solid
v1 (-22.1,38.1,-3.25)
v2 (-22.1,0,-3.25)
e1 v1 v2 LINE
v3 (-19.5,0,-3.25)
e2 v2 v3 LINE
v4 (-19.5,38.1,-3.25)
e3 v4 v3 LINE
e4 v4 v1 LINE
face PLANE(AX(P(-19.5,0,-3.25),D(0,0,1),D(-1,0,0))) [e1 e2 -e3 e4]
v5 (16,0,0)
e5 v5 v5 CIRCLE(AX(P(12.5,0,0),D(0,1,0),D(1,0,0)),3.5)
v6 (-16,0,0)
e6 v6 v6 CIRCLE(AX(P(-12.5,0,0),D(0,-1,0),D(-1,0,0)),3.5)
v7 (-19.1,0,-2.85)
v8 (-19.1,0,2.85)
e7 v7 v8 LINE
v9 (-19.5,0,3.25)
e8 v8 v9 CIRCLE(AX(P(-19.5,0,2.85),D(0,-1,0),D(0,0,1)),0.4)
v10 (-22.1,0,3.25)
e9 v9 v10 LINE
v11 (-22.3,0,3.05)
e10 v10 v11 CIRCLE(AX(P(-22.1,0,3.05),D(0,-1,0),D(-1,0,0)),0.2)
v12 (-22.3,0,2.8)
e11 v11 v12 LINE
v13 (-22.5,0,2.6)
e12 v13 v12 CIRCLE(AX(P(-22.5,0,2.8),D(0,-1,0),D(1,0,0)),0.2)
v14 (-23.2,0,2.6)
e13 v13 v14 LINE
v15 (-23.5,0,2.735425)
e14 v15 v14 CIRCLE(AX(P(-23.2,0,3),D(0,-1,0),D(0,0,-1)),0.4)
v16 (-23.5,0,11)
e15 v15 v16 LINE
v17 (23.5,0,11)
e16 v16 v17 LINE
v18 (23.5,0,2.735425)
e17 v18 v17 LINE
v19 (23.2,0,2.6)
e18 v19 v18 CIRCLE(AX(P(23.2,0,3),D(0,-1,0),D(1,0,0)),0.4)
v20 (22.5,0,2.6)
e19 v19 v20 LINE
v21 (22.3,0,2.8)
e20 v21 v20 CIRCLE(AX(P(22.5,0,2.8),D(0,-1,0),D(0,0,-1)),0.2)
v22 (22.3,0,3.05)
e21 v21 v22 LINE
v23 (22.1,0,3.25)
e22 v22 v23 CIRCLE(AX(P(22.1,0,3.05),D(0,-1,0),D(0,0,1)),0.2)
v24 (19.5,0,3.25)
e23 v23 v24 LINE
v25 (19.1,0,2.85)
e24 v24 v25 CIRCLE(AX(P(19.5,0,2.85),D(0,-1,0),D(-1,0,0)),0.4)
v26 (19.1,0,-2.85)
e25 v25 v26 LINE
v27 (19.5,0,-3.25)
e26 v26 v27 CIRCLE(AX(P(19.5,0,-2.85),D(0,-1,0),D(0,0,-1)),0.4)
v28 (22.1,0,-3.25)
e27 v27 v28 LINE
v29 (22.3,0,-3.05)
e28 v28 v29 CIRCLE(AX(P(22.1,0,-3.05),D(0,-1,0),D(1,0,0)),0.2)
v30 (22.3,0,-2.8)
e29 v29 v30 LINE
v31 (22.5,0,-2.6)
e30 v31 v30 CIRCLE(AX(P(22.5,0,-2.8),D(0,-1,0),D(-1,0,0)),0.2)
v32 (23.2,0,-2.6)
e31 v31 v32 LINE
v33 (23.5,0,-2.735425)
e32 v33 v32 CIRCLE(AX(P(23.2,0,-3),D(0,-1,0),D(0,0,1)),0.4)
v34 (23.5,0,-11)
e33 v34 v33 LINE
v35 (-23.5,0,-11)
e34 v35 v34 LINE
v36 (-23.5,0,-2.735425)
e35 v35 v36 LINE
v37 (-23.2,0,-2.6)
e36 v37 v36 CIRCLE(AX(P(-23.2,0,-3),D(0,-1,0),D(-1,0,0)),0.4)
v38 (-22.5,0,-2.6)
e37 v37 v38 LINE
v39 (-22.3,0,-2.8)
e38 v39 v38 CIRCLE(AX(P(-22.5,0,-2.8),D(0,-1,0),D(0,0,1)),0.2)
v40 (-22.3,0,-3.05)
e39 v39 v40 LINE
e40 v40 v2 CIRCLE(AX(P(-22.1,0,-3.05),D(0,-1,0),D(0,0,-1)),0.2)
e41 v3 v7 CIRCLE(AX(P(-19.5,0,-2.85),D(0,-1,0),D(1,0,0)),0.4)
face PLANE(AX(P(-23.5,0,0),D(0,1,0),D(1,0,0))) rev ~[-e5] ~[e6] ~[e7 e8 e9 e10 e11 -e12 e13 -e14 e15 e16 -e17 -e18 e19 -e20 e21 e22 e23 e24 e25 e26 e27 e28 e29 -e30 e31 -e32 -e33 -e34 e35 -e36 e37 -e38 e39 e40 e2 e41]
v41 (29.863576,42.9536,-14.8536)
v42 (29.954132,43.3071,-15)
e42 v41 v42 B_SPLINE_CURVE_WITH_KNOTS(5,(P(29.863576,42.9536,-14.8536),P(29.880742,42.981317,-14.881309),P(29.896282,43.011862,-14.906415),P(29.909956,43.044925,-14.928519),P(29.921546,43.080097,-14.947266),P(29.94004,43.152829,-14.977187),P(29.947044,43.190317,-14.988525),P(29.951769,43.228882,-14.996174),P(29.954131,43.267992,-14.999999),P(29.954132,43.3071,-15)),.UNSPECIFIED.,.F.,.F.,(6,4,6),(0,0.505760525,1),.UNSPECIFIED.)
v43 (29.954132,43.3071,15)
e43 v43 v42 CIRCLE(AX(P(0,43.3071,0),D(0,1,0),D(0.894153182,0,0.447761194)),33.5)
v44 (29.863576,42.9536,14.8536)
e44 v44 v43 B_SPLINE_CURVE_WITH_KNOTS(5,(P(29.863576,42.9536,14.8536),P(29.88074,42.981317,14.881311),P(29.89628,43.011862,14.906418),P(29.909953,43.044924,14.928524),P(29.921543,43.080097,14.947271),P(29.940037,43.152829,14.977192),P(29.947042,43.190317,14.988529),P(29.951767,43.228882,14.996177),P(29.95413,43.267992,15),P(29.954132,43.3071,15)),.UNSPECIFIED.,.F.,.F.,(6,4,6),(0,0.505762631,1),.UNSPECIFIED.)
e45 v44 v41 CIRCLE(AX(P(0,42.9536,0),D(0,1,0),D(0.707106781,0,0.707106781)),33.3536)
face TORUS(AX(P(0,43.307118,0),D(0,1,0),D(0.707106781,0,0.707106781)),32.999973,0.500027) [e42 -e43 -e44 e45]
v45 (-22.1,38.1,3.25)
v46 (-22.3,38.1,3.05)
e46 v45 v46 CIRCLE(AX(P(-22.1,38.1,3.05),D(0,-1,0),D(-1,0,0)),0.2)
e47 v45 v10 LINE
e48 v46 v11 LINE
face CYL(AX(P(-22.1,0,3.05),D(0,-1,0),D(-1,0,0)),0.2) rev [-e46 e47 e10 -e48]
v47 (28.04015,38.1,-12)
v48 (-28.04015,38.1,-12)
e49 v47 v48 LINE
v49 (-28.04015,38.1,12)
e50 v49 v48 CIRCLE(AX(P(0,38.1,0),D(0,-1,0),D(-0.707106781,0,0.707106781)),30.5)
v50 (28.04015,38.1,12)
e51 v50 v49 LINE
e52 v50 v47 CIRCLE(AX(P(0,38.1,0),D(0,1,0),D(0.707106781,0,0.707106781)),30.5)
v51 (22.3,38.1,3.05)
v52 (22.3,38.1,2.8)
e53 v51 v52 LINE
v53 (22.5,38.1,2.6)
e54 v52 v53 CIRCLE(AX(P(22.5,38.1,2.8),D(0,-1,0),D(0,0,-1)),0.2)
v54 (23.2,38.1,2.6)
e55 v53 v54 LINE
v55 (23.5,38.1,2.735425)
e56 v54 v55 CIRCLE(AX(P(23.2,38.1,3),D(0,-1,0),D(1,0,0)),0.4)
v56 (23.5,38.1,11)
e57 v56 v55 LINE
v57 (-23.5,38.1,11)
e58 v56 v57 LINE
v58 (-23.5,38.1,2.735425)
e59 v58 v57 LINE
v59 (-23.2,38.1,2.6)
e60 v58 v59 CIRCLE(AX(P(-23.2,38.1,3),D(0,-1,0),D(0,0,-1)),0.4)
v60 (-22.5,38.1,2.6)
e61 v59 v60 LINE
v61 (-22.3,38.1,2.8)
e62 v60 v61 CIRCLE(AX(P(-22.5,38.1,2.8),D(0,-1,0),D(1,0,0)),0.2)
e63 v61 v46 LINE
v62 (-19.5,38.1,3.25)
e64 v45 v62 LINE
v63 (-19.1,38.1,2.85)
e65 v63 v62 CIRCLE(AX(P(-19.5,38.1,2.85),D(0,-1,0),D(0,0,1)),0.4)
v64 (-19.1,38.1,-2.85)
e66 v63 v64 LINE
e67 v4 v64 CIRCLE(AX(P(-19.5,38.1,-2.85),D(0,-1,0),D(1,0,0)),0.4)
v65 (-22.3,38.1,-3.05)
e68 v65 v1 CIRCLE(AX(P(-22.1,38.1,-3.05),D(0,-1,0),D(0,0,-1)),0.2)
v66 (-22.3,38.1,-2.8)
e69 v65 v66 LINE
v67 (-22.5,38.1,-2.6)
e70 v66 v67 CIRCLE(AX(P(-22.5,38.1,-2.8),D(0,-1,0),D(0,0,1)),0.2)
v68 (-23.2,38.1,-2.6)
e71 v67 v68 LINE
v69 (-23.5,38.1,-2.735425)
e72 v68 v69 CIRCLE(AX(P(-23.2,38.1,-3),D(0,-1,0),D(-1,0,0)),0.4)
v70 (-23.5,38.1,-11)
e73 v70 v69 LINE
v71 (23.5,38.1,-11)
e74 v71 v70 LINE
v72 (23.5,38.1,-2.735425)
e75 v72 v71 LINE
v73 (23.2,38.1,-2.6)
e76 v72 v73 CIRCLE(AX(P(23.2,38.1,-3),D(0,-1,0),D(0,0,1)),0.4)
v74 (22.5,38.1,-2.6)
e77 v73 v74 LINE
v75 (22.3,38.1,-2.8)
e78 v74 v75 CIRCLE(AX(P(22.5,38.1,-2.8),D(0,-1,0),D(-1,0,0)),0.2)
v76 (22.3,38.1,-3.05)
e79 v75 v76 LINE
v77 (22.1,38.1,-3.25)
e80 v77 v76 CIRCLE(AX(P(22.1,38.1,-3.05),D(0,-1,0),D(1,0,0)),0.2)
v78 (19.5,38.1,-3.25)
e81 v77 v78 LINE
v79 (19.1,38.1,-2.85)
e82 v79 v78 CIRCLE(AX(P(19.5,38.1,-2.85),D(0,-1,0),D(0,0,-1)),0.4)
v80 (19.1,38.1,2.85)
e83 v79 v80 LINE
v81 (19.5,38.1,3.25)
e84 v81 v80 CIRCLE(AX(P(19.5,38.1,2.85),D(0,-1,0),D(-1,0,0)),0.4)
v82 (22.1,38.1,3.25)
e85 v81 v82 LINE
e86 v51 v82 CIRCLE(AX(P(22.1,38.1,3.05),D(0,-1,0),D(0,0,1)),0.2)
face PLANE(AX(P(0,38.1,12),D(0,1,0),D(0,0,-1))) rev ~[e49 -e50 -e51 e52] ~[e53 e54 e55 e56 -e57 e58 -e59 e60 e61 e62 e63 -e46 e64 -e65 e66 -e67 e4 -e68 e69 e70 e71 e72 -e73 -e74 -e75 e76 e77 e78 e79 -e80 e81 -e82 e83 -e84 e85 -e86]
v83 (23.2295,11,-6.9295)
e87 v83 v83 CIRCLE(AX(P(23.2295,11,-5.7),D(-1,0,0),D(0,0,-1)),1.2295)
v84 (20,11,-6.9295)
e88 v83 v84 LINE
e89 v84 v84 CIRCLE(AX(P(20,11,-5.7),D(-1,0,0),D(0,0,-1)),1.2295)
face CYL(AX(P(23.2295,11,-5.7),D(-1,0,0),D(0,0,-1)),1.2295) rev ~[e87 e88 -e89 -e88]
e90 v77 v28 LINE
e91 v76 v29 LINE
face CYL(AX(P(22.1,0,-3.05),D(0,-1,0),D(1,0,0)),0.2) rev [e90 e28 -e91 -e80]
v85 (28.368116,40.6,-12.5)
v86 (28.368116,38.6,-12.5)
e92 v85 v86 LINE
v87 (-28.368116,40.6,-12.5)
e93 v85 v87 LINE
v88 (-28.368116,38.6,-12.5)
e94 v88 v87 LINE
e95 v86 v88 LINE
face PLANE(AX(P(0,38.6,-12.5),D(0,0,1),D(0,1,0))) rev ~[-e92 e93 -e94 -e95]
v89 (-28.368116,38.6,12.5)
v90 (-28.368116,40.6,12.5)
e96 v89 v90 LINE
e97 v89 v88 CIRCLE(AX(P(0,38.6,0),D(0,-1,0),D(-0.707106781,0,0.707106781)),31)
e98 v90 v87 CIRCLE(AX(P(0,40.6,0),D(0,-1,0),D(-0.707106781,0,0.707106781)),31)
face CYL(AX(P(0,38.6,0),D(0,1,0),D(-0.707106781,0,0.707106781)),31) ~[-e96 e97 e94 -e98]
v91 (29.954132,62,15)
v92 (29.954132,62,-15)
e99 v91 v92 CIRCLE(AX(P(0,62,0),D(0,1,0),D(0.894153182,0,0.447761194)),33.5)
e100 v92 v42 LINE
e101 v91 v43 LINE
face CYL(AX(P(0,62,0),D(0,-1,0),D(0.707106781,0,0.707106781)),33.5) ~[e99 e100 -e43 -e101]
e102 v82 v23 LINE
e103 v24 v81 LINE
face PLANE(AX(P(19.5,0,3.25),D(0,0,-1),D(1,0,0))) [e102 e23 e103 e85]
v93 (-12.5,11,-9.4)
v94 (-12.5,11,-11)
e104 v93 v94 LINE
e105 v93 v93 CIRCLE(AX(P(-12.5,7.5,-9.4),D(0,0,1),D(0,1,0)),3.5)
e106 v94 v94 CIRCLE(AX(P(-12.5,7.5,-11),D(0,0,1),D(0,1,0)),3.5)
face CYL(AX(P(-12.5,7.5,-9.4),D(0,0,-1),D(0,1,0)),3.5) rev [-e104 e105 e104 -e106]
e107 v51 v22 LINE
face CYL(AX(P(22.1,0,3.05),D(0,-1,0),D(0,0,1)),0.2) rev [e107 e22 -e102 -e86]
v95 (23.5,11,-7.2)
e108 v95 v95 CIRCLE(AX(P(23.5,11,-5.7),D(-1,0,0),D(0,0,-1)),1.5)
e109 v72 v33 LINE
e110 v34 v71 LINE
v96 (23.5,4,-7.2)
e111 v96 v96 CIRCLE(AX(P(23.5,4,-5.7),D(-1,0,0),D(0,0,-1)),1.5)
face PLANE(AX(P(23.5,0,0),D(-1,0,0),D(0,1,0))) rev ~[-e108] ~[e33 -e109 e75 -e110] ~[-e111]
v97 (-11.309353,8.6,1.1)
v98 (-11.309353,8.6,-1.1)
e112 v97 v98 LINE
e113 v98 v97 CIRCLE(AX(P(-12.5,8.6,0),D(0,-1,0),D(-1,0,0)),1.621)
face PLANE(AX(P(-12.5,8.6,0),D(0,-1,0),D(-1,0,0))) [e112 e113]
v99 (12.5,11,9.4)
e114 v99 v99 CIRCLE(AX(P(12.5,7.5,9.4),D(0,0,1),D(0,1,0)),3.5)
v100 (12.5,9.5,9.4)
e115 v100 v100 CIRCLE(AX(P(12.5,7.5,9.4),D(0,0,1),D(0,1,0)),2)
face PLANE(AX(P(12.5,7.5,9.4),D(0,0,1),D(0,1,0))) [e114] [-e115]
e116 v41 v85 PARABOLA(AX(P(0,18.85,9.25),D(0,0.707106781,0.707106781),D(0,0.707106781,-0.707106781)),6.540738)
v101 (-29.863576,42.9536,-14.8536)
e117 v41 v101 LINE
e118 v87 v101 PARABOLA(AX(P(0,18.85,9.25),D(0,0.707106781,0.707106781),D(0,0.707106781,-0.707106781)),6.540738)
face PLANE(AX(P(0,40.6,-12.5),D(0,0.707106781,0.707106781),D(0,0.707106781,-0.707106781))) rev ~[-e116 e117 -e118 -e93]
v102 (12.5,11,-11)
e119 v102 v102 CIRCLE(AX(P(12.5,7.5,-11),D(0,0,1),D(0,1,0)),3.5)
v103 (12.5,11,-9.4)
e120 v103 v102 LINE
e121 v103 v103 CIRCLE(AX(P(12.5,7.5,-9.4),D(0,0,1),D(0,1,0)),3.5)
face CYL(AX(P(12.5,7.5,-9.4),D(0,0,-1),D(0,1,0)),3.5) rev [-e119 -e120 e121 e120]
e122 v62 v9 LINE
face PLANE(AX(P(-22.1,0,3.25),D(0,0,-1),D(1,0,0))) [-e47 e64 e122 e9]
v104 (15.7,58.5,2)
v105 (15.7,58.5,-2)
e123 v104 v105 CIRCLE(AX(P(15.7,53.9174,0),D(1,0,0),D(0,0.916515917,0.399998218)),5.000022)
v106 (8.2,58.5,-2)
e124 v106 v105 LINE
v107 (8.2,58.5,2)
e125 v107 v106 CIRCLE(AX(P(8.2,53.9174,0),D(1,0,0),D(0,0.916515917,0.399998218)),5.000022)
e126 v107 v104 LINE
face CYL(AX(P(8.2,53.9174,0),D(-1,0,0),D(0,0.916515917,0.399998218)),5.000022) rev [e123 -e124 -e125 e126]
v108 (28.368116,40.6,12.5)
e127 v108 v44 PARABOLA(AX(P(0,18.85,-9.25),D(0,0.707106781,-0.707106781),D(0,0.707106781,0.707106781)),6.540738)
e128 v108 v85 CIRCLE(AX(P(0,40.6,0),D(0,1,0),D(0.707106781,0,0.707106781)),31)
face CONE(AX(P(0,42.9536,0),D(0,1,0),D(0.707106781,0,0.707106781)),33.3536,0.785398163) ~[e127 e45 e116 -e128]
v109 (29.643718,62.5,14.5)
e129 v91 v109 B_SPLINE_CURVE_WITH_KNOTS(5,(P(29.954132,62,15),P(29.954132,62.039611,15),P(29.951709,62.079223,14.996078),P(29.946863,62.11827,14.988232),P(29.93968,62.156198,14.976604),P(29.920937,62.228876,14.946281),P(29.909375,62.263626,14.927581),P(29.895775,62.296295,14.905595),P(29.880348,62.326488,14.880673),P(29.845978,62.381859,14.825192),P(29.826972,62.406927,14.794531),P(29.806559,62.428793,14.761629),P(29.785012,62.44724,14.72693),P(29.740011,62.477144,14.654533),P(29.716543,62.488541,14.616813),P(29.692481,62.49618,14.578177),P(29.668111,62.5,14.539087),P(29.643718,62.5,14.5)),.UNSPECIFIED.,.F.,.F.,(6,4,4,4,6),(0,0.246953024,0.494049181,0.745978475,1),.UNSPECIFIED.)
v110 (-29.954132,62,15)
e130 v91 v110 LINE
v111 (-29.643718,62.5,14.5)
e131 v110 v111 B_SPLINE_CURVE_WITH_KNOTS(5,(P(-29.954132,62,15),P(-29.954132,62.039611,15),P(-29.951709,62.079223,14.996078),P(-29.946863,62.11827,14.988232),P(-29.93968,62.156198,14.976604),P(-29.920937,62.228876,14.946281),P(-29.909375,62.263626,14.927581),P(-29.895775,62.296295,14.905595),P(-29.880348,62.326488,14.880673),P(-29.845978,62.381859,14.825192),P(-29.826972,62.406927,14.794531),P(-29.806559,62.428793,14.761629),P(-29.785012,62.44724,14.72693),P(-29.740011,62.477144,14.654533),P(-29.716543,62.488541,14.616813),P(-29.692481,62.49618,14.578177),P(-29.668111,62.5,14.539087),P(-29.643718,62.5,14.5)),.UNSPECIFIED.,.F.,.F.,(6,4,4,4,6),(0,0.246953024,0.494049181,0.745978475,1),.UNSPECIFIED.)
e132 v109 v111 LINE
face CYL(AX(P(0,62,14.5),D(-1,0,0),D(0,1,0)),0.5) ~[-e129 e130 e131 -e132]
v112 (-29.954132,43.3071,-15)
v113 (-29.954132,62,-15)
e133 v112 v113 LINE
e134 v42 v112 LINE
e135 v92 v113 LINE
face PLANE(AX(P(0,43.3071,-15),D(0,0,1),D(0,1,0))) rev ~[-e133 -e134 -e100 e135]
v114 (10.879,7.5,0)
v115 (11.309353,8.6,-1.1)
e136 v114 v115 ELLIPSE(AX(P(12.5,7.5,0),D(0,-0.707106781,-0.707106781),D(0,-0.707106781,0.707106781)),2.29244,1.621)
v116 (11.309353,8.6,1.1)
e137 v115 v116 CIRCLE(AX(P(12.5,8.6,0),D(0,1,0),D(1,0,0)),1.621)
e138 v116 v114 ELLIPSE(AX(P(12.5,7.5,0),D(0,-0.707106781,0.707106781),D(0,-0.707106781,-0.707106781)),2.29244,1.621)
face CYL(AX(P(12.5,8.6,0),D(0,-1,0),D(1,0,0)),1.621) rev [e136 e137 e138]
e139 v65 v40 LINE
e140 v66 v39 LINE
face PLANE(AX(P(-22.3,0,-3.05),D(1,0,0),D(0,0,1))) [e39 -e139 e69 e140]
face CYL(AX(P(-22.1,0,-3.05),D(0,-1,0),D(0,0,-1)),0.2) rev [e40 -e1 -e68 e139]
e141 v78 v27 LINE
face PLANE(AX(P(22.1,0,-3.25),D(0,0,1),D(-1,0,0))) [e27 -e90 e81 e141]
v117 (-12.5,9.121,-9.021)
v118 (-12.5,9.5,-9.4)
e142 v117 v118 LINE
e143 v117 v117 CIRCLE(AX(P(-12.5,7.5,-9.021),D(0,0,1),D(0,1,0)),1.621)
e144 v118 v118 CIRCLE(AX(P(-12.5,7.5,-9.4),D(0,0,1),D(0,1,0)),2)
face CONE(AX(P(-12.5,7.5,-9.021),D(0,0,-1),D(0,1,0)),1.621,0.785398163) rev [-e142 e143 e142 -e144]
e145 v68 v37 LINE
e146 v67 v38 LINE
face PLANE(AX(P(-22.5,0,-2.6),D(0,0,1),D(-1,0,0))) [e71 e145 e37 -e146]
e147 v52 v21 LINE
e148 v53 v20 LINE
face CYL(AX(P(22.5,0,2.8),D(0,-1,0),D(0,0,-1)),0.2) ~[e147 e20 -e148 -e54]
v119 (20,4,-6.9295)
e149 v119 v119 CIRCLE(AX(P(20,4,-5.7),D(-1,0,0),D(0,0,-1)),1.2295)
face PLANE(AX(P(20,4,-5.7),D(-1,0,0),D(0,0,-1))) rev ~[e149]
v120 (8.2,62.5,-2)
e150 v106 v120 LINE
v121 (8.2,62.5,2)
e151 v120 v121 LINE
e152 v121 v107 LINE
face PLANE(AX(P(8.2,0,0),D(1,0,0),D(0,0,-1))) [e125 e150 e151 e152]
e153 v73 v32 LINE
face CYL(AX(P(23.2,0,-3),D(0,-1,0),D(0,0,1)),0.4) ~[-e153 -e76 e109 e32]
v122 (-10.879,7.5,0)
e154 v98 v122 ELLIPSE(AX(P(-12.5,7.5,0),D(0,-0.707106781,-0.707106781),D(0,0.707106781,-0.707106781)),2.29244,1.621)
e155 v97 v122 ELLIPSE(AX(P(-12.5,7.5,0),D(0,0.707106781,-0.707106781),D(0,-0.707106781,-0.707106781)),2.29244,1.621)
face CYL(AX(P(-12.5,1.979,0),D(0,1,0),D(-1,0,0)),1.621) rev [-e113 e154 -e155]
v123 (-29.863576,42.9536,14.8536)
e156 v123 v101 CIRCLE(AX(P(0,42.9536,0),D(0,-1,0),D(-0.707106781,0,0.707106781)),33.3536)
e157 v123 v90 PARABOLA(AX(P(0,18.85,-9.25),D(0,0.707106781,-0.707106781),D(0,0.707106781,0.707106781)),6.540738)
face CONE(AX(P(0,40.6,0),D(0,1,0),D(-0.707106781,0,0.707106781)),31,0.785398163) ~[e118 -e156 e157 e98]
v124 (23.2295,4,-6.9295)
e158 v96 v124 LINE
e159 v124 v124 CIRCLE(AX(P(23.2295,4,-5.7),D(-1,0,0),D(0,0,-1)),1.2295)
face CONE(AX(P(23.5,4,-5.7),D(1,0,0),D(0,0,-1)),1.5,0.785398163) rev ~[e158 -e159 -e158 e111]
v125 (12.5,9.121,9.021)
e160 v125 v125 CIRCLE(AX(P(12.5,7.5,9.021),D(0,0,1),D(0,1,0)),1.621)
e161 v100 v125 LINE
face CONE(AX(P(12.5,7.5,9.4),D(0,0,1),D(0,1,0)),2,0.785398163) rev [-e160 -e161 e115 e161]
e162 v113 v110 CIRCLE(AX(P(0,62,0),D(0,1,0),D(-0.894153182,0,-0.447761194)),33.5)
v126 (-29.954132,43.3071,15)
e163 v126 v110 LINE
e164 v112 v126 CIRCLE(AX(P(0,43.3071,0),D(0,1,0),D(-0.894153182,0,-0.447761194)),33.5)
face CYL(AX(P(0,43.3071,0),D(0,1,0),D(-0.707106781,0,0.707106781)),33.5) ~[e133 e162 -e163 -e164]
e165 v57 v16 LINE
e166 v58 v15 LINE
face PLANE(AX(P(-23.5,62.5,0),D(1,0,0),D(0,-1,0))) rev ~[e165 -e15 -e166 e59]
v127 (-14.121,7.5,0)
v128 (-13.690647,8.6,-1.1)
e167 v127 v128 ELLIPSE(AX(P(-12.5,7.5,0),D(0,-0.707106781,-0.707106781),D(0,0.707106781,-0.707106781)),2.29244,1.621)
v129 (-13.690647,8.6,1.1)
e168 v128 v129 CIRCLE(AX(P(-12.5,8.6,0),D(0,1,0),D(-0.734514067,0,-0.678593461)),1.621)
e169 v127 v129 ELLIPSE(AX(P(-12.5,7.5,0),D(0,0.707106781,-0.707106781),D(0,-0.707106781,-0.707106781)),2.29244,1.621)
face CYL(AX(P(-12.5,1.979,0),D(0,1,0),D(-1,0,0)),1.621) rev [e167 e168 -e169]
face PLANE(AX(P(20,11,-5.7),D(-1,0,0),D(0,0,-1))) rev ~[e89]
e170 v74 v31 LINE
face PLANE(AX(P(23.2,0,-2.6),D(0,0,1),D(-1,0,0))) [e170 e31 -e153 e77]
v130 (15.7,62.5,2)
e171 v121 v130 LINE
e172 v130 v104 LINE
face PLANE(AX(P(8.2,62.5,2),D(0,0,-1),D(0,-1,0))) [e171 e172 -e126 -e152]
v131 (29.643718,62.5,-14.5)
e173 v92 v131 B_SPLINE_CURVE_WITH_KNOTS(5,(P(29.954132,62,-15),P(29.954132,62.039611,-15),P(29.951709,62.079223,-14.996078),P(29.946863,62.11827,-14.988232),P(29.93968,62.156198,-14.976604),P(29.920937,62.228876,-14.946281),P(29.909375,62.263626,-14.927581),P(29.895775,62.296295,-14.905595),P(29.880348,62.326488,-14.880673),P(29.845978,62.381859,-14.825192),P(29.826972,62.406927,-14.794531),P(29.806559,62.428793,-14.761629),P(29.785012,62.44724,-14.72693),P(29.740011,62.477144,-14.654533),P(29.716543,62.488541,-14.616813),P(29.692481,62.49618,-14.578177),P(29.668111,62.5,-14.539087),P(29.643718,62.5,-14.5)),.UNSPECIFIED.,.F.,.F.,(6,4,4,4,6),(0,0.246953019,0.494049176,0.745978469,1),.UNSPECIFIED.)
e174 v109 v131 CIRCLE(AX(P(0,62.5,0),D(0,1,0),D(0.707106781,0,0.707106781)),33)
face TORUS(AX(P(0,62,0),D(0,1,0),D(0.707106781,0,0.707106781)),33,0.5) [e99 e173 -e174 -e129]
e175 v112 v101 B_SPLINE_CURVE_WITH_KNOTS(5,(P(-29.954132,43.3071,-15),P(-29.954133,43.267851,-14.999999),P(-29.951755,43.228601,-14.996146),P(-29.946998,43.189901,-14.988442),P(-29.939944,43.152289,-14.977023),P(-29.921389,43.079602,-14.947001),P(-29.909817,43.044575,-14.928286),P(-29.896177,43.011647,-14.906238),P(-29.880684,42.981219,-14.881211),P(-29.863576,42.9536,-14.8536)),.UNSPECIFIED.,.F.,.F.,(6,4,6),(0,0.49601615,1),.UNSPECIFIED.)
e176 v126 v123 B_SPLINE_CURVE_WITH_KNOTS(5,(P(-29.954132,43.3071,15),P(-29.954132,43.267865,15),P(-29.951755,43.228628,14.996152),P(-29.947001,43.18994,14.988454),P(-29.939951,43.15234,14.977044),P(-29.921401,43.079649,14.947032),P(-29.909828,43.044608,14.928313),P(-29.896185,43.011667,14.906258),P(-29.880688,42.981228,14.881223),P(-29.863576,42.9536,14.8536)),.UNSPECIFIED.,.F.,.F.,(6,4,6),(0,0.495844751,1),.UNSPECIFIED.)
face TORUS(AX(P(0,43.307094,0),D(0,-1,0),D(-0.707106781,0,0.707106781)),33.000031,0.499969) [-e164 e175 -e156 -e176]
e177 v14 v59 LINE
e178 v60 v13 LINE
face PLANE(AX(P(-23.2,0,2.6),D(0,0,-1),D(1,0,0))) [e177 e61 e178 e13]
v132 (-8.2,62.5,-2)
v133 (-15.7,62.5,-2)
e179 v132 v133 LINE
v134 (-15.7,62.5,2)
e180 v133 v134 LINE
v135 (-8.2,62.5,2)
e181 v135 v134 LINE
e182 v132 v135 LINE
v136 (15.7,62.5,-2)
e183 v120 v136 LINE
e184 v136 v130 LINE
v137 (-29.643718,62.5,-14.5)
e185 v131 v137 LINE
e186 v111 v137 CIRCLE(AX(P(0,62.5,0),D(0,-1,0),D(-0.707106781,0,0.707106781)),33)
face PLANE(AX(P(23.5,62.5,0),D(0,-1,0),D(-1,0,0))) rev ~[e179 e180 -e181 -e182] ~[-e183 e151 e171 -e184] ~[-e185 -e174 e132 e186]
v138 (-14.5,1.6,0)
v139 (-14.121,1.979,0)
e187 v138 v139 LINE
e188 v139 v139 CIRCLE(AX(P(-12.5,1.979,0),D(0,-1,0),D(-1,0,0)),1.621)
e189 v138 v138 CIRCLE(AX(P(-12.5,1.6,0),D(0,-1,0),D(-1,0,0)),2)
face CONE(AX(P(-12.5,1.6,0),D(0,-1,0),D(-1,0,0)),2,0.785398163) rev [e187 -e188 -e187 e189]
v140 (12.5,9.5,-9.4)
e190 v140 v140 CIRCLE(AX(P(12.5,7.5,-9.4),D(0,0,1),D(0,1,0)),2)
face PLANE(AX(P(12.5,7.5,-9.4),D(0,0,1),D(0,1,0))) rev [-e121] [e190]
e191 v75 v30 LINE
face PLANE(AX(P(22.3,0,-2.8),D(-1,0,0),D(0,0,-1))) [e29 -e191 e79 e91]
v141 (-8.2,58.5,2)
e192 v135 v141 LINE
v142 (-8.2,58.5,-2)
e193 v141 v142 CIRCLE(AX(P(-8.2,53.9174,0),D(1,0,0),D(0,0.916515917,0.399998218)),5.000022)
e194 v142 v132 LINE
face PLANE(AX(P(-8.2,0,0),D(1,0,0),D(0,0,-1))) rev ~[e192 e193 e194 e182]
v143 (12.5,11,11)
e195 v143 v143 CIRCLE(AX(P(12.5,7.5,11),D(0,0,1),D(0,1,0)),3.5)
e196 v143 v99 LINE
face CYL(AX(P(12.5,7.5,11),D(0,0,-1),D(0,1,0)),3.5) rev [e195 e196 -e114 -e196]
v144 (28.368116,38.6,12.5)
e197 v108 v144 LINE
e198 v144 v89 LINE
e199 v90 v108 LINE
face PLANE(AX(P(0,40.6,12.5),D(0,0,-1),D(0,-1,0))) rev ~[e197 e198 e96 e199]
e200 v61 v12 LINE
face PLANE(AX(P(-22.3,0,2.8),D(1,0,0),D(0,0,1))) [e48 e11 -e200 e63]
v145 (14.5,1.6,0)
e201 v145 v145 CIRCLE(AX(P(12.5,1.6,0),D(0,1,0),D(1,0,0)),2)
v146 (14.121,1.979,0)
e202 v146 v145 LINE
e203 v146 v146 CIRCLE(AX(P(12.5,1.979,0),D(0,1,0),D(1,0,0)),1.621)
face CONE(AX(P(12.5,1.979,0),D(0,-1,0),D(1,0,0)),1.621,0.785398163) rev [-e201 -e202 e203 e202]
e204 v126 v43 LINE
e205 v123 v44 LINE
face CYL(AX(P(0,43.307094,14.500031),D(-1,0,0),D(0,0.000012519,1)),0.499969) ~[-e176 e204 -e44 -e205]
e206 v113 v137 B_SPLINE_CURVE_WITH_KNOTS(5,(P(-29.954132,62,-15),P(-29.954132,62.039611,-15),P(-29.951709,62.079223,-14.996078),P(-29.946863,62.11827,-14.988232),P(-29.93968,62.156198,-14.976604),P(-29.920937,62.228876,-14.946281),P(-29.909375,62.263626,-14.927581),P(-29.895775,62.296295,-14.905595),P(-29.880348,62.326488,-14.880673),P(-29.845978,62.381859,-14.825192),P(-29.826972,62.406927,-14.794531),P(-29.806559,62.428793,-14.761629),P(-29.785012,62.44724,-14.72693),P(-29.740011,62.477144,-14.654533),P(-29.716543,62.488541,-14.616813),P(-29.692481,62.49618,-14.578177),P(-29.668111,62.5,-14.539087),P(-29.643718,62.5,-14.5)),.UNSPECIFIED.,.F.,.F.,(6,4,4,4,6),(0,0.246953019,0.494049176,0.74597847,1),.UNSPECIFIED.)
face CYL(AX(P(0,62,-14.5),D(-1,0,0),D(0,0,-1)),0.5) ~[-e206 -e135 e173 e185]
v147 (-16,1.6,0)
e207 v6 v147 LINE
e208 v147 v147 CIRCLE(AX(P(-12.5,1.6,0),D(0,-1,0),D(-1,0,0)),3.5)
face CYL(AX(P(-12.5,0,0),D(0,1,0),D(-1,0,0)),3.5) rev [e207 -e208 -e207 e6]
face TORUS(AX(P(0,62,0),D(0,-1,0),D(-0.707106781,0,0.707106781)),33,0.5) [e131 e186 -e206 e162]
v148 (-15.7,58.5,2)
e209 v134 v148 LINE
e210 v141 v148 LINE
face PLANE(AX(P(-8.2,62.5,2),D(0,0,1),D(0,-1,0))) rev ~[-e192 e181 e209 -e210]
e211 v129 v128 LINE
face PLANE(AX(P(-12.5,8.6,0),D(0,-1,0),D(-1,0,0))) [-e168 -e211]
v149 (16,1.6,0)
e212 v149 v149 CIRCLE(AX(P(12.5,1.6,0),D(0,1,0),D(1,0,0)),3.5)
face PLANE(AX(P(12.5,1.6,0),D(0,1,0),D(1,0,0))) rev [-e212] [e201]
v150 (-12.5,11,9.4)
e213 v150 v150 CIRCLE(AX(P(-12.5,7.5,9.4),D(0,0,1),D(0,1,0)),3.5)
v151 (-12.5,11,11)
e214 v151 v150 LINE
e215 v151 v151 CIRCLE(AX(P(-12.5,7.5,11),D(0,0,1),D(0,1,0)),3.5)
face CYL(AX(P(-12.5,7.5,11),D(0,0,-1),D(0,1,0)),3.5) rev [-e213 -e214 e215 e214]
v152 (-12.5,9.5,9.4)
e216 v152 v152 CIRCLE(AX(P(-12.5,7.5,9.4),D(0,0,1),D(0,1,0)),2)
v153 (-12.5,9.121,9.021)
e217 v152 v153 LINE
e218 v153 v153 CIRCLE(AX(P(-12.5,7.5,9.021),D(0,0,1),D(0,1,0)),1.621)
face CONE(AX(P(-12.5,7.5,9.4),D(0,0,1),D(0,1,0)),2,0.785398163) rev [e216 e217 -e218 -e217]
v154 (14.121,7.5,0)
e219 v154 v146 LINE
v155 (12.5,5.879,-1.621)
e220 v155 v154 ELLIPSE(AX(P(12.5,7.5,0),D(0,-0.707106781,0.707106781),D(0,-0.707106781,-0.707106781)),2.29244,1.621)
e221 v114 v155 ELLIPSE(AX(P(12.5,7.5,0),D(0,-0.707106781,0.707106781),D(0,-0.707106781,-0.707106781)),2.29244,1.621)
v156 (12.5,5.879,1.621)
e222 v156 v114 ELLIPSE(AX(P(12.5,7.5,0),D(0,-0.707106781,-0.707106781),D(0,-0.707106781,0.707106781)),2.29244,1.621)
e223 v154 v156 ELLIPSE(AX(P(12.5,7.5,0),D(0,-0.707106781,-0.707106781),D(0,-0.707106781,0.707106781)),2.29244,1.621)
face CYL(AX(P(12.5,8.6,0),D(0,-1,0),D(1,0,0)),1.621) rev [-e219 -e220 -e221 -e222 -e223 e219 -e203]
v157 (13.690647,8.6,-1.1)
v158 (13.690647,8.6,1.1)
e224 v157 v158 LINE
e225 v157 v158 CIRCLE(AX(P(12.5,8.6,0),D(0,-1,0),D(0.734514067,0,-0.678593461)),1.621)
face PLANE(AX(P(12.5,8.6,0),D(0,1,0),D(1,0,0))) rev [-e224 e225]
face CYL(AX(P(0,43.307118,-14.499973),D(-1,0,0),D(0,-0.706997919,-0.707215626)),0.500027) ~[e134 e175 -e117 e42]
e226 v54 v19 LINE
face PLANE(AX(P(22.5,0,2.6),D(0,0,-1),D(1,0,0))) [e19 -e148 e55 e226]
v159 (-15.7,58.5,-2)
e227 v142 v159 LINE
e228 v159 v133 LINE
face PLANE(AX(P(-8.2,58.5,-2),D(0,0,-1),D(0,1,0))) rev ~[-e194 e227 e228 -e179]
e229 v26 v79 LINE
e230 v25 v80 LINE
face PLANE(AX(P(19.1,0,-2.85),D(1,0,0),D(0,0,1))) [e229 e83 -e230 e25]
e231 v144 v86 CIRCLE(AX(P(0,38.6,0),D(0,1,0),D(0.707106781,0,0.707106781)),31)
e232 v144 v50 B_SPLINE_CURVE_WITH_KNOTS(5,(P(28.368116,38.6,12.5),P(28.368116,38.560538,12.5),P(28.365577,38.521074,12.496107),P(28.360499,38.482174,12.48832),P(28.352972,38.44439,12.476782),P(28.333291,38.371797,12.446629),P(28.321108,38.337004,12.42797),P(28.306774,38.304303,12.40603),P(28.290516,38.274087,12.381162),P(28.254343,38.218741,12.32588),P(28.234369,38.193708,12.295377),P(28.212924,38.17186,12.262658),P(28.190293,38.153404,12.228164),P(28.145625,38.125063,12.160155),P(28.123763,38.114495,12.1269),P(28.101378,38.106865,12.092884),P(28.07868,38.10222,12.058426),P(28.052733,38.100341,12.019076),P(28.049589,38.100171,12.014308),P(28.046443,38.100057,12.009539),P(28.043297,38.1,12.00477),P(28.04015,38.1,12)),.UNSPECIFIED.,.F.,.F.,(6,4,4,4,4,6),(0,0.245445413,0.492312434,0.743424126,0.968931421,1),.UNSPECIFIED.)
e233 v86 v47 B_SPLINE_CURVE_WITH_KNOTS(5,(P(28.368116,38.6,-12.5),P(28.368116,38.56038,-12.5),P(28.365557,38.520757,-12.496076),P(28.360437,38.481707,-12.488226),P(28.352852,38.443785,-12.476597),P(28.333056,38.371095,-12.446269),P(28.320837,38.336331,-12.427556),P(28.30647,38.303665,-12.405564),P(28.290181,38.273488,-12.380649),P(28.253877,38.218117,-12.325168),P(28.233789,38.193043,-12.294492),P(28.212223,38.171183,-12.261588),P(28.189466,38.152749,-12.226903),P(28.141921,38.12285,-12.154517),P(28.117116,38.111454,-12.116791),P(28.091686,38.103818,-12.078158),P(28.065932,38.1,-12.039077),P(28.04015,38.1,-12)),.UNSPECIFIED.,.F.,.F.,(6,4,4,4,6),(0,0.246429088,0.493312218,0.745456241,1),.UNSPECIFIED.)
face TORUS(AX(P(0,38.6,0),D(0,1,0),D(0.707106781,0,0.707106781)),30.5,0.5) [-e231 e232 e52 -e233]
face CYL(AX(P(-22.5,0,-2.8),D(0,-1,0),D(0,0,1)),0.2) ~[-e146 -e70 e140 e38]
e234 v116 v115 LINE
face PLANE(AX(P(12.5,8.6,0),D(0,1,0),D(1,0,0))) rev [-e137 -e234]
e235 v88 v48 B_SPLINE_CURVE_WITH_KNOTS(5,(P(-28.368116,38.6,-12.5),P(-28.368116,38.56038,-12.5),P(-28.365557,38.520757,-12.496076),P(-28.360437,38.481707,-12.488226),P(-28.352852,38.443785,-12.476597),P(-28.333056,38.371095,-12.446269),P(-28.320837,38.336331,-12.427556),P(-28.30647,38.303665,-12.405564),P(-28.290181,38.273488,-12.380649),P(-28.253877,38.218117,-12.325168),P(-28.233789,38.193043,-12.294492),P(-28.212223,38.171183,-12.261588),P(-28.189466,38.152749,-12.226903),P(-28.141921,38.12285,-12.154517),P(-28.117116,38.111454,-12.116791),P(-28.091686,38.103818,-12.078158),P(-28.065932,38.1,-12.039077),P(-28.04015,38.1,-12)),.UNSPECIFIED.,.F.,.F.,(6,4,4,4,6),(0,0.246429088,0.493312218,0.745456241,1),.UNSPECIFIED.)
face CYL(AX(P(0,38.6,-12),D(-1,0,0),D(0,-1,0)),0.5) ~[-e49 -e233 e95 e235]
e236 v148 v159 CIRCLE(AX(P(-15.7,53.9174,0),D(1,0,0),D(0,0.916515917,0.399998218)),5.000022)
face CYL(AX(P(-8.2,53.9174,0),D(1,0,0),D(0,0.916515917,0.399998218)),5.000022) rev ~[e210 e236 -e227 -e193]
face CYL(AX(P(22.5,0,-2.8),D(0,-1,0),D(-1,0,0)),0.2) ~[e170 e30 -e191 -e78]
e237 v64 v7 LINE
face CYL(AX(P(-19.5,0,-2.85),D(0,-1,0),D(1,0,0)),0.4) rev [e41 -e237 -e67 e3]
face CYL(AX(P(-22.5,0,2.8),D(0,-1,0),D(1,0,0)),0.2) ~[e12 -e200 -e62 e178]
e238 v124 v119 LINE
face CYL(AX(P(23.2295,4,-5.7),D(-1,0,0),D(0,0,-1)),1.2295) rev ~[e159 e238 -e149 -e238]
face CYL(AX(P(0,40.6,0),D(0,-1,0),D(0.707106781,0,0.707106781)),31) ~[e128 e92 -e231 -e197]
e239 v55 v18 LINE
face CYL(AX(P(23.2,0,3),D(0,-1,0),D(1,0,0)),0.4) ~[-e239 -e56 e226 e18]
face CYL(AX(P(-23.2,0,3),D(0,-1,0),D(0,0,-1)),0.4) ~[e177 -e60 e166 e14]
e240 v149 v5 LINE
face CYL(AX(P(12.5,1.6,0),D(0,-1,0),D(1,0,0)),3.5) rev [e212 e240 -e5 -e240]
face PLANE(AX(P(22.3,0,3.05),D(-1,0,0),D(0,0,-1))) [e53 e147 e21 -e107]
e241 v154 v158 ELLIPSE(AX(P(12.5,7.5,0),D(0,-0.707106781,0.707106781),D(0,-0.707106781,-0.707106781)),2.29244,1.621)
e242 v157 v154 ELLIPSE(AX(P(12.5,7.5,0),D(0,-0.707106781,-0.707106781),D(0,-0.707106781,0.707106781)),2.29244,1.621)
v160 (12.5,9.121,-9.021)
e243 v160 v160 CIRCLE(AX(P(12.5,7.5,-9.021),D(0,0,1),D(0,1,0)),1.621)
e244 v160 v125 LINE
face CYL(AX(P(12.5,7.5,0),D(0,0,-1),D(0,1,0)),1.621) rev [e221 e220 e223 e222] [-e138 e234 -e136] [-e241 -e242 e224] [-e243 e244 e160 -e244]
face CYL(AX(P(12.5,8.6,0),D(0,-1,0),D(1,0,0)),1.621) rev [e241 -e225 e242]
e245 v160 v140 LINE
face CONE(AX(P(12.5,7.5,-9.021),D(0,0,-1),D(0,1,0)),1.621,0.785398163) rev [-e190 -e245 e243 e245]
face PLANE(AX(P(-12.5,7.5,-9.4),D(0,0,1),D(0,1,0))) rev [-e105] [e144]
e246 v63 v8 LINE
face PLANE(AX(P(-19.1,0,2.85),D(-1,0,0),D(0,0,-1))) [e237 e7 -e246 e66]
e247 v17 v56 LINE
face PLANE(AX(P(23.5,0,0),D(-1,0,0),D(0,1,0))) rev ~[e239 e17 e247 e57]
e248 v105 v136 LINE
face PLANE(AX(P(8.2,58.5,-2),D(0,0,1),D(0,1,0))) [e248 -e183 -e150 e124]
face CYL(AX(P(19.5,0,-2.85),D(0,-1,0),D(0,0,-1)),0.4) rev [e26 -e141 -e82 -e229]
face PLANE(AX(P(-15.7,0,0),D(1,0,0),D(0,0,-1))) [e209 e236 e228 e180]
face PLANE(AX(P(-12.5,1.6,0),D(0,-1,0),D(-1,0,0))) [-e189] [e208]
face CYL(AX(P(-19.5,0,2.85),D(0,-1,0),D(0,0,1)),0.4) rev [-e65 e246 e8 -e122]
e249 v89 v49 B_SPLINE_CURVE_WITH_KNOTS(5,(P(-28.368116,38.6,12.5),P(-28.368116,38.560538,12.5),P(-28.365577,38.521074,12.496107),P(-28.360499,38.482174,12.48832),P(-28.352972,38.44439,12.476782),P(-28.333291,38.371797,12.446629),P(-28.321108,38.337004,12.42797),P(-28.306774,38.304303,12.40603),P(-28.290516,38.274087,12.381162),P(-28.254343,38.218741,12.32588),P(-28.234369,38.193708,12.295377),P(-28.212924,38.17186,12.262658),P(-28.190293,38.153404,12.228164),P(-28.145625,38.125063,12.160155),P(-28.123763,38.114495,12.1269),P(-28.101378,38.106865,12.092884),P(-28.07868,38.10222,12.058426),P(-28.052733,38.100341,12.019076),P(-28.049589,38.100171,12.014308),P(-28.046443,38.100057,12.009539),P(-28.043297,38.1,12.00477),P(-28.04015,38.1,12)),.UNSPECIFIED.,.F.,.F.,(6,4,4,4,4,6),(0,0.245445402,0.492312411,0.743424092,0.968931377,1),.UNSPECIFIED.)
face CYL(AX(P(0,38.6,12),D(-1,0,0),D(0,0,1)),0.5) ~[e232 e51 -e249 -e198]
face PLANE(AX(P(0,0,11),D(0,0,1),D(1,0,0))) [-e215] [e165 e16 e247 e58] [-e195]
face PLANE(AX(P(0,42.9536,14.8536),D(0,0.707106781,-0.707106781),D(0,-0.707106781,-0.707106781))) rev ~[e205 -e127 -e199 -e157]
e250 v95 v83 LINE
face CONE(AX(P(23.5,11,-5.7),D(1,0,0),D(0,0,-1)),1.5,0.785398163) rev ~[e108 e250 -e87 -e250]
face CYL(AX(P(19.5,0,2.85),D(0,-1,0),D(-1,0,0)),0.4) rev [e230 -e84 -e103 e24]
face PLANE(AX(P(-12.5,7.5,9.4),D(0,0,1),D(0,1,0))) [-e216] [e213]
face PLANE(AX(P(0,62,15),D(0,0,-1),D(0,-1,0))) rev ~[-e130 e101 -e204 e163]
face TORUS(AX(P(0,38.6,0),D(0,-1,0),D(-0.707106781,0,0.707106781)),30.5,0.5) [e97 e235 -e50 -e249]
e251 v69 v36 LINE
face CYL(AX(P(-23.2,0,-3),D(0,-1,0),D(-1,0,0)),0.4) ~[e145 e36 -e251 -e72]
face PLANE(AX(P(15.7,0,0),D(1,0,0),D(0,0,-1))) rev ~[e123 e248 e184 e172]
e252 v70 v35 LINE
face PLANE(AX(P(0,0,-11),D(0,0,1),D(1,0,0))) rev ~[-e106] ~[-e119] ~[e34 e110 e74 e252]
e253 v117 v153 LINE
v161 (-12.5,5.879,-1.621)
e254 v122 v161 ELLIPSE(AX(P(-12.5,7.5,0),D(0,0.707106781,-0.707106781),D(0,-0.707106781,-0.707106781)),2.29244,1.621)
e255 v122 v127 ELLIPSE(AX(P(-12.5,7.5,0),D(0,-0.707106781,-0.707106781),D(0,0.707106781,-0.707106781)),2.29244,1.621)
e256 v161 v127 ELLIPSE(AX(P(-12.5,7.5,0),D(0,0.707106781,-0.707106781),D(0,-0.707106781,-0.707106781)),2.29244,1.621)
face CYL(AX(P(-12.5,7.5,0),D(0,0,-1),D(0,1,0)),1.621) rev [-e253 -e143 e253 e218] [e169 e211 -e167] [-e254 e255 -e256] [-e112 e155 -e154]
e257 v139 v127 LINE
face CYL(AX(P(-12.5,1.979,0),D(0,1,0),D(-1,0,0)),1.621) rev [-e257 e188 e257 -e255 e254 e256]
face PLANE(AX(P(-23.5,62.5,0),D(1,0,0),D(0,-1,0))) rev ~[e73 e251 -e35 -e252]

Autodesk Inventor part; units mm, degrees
sketch "Sketch_1" plane through (0, 0, 0) normal (0, 0, 1) x (1, 0, 0)
  line L0 (-23.5, 0) -> (23.5, 0)
  line L1 (23.5, 0) -> (23.5, 62.5)
  line L2 (23.5, 62.5) -> (-23.5, 62.5)
  line L3 (-23.5, 62.5) -> (-23.5, 0)
extrude "Extrusion1" add sketch "Sketch_1" along normal mid plane 22
sketch "Sketch2" plane through (23.5, 0, 11) normal (1, 0, 0) x (0, 0, -1)
  point P0 (16.7, 4)
hole "Hole1" at (23.5, 4, -5.7) direction (-1, 0, 0) diameter 2.459 depth 3.5 countersink diameter 3 countersink angle 90 thread size "M3x0.5" class "6H" standard "ISO Metric profile"
sketch "Sketch3" plane through (23.5, 0, 11) normal (1, 0, 0) x (0, 0, -1)
  point P0 (16.7, 11)
hole "Hole2" at (23.5, 11, -5.7) direction (-1, 0, 0) diameter 2.459 depth 3.5 countersink diameter 3 countersink angle 90 thread size "M3x0.5" class "6H" standard "ISO Metric profile"
sketch "Sketch_7" plane through (0, 0, 0) normal (0, 0, 1) x (1, 0, 0)
  line L0 (12.5, 0) -> (12.5, 8.6)
  line L1 (12.5, 8.6) -> (14.121, 8.6)
  line L2 (14.121, 8.6) -> (14.121, 1.979)
  line L3 (14.121, 1.979) -> (14.5, 1.6)
  line L4 (14.5, 1.6) -> (16, 1.6)
  line L5 (16, 1.6) -> (16, 0)
  line L6 (16, 0) -> (12.5, 0)
  line L7 (12.5, 0) -> (12.5, 8.6)
revolve "Revolution1" cut sketch "Sketch_7" angle 360 about axis through (12.5, 0, 0) along (0, 1, 0)
thread "Thread1" size "M4x0.7" class "6H" standard "ISO Metric profile" full length
sketch "Sketch_8" plane through (0, 0, 0) normal (0, 1, 0) x (-1, 0, 0)
  line L0 (-19.1, -2.85) -> (-19.1, 2.85)
  arc A0 (-19.1, 2.85) -> (-19.5, 3.25) centre (-19.5, 2.85) ccw
  line L1 (-19.5, 3.25) -> (-22.1, 3.25)
  arc A1 (-22.1, 3.25) -> (-22.3, 3.05) centre (-22.1, 3.05) ccw
  line L2 (-22.3, 3.05) -> (-22.3, 2.8)
  arc A2 (-22.5, 2.6) -> (-22.3, 2.8) centre (-22.5, 2.8) ccw
  line L3 (-22.5, 2.6) -> (-23.2, 2.6)
  arc A3 (-23.6, 3) -> (-23.2, 2.6) centre (-23.2, 3) ccw
  line L4 (-23.6, 3) -> (-23.6, -3)
  arc A4 (-23.2, -2.6) -> (-23.6, -3) centre (-23.2, -3) ccw
  line L5 (-23.2, -2.6) -> (-22.5, -2.6)
  arc A5 (-22.3, -2.8) -> (-22.5, -2.6) centre (-22.5, -2.8) ccw
  line L6 (-22.3, -2.8) -> (-22.3, -3.05)
  arc A6 (-22.3, -3.05) -> (-22.1, -3.25) centre (-22.1, -3.05) ccw
  line L7 (-22.1, -3.25) -> (-19.5, -3.25)
  arc A7 (-19.5, -3.25) -> (-19.1, -2.85) centre (-19.5, -2.85) ccw
extrude "Extrusion2" cut sketch "Sketch_8" along normal mid plane 81.2
sketch "Sketch_9" plane through (0, 0, 0) normal (0, 1, 0) x (-1, 0, 0)
  line L0 (23.6, -3) -> (23.6, 3)
  arc A0 (23.2, 2.6) -> (23.6, 3) centre (23.2, 3) ccw
  line L1 (23.2, 2.6) -> (22.5, 2.6)
  arc A1 (22.3, 2.8) -> (22.5, 2.6) centre (22.5, 2.8) ccw
  line L2 (22.3, 2.8) -> (22.3, 3.05)
  arc A2 (22.3, 3.05) -> (22.1, 3.25) centre (22.1, 3.05) ccw
  line L3 (22.1, 3.25) -> (19.5, 3.25)
  arc A3 (19.5, 3.25) -> (19.1, 2.85) centre (19.5, 2.85) ccw
  line L4 (19.1, 2.85) -> (19.1, -2.85)
  arc A4 (19.1, -2.85) -> (19.5, -3.25) centre (19.5, -2.85) ccw
  line L5 (19.5, -3.25) -> (22.1, -3.25)
  arc A5 (22.1, -3.25) -> (22.3, -3.05) centre (22.1, -3.05) ccw
  line L6 (22.3, -3.05) -> (22.3, -2.8)
  arc A6 (22.5, -2.6) -> (22.3, -2.8) centre (22.5, -2.8) ccw
  line L7 (22.5, -2.6) -> (23.2, -2.6)
  arc A7 (23.6, -3) -> (23.2, -2.6) centre (23.2, -3) ccw
extrude "Extrusion3" cut sketch "Sketch_9" along normal mid plane 81.2
sketch "Sketch_4" plane through (12.5, 0, 0) normal (1, 0, 0) x (0, 0, -1)
  line L0 (0, 7.5) -> (-11, 7.5)
  line L1 (-11, 7.5) -> (-11, 11)
  line L2 (-11, 11) -> (-9.4, 11)
  line L3 (-9.4, 11) -> (-9.4, 9.5)
  line L4 (-9.4, 9.5) -> (-9.021, 9.121)
  line L5 (-9.021, 9.121) -> (0, 9.121)
  line L6 (0, 9.121) -> (0, 7.5)
  line L7 (0, 7.5) -> (-11, 7.5)
revolve "Revolution2" cut sketch "Sketch_4" angle 360 about axis through (12.5, 7.5, 0) along (0, 0, 1)
thread "Thread2" size "M4x0.7" class "6H" standard "ISO Metric profile" length 5.521
sketch "Sketch_14" plane through (12.5, 0, 0) normal (1, 0, 0) x (0, 0, -1)
  line L0 (11, 7.5) -> (0, 7.5)
  line L1 (0, 7.5) -> (0, 9.121)
  line L2 (0, 9.121) -> (9.021, 9.121)
  line L3 (9.021, 9.121) -> (9.4, 9.5)
  line L4 (9.4, 9.5) -> (9.4, 11)
  line L5 (9.4, 11) -> (11, 11)
  line L6 (11, 11) -> (11, 7.5)
  line L7 (11, 7.5) -> (0, 7.5)
revolve "Revolution3" cut sketch "Sketch_14" angle 360 about axis through (12.5, 7.5, -11) along (0, 0, 1)
sketch "Sketch_5" plane through (-12.5, 0, 0) normal (1, 0, 0) x (0, 0, -1)
  line L0 (0, 7.5) -> (-11, 7.5)
  line L1 (-11, 7.5) -> (-11, 11)
  line L2 (-11, 11) -> (-9.4, 11)
  line L3 (-9.4, 11) -> (-9.4, 9.5)
  line L4 (-9.4, 9.5) -> (-9.021, 9.121)
  line L5 (-9.021, 9.121) -> (0, 9.121)
  line L6 (0, 9.121) -> (0, 7.5)
  line L7 (0, 7.5) -> (-11, 7.5)
revolve "Revolution4" cut sketch "Sketch_5" angle 360 about axis through (-12.5, 7.5, 0) along (0, 0, 1)
thread "Thread3" size "M4x0.7" class "6H" standard "ISO Metric profile" length 5.521
sketch "Sketch_15" plane through (-12.5, 0, 0) normal (1, 0, 0) x (0, 0, -1)
  line L0 (11, 7.5) -> (0, 7.5)
  line L1 (0, 7.5) -> (0, 9.121)
  line L2 (0, 9.121) -> (9.021, 9.121)
  line L3 (9.021, 9.121) -> (9.4, 9.5)
  line L4 (9.4, 9.5) -> (9.4, 11)
  line L5 (9.4, 11) -> (11, 11)
  line L6 (11, 11) -> (11, 7.5)
  line L7 (11, 7.5) -> (0, 7.5)
revolve "Revolution5" cut sketch "Sketch_15" angle 360 about axis through (-12.5, 7.5, -11) along (0, 0, 1)
thread "Thread4" size "M4x0.7" class "6H" standard "ISO Metric profile" length 5.521
sketch "Sketch_6" plane through (0, 0, 0) normal (0, 0, 1) x (1, 0, 0)
  line L0 (-12.5, 8.6) -> (-12.5, 0)
  line L1 (-12.5, 0) -> (-16, 0)
  line L2 (-16, 0) -> (-16, 1.6)
  line L3 (-16, 1.6) -> (-14.5, 1.6)
  line L4 (-14.5, 1.6) -> (-14.121, 1.979)
  line L5 (-14.121, 1.979) -> (-14.121, 8.6)
  line L6 (-14.121, 8.6) -> (-12.5, 8.6)
  line L7 (-12.5, 8.6) -> (-12.5, 0)
revolve "Revolution6" cut sketch "Sketch_6" angle 360 about axis through (-12.5, 8.6, 0) along (0, -1, 0)
thread "Thread5" size "M4x0.7" class "6H" standard "ISO Metric profile" length 6.621
sketch "Skizze_3" plane through (0, 0, 0) normal (1, 0, 0) x (0, 1, 0)
  arc A0 (43.3071, 15) -> (42.9536, 14.8536) centre (43.3071, 14.5) ccw
  line L0 (42.9536, 14.8536) -> (40.6, 12.5)
  line L1 (40.6, 12.5) -> (38.6, 12.5)
  arc A1 (38.6, 12.5) -> (38.1, 12) centre (38.6, 12) ccw
  line L2 (38.1, 12) -> (38.1, -12)
  arc A2 (38.1, -12) -> (38.6, -12.5) centre (38.6, -12) ccw
  line L3 (38.6, -12.5) -> (40.6, -12.5)
  line L4 (40.6, -12.5) -> (42.9536, -14.8536)
  arc A3 (42.9536, -14.8536) -> (43.3071, -15) centre (43.3071, -14.5) ccw
  line L5 (43.3071, -15) -> (62, -15)
  arc A4 (62, -15) -> (62.5, -14.5) centre (62, -14.5) ccw
  line L6 (62.5, -14.5) -> (62.5, 14.5)
  arc A5 (62.5, 14.5) -> (62, 15) centre (62, 14.5) ccw
  line L7 (62, 15) -> (43.3071, 15)
extrude "Extrusion4" add sketch "Skizze_3" along normal mid plane 67
sketch "Skizze_4" plane through (0, 0, 0) normal (0, 0, 1) x (1, 0, 0)
  line L0 (0, 38.1) -> (0, 62.5)
  line L1 (30.5, 38.1) -> (50.25, 38.1)
  line L2 (50.25, 38.1) -> (50.25, 62.5)
  line L3 (50.25, 62.5) -> (33, 62.5)
  arc A0 (33.5, 62) -> (33, 62.5) centre (33, 62) ccw
  line L4 (33.5, 62) -> (33.5, 43.3071)
  arc A1 (33.3536, 42.9536) -> (33.5, 43.3071) centre (33, 43.3071) ccw
  line L5 (33.3536, 42.9536) -> (31, 40.6)
  line L6 (31, 40.6) -> (31, 38.6)
  arc A2 (30.5, 38.1) -> (31, 38.6) centre (30.5, 38.6) ccw
revolve "Revolution7" cut sketch "Skizze_4" angle 90 mid plane about axis through (0, 38.1, 0) along (0, 1, 0)
sketch "Skizze_5" plane through (0, 0, 0) normal (0, 0, 1) x (1, 0, 0)
  line L0 (0, 62.5) -> (0, 38.1)
  line L1 (-50.25, 62.5) -> (-50.25, 38.1)
  line L2 (-50.25, 38.1) -> (-30.5, 38.1)
  arc A0 (-31, 38.6) -> (-30.5, 38.1) centre (-30.5, 38.6) ccw
  line L3 (-31, 38.6) -> (-31, 40.6)
  line L4 (-31, 40.6) -> (-33.3536, 42.9536)
  arc A1 (-33.5, 43.3071) -> (-33.3536, 42.9536) centre (-33, 43.3071) ccw
  line L5 (-33.5, 43.3071) -> (-33.5, 62)
  arc A2 (-33, 62.5) -> (-33.5, 62) centre (-33, 62) ccw
  line L6 (-33, 62.5) -> (-50.25, 62.5)
revolve "Revolution8" cut sketch "Skizze_5" angle 90 mid plane about axis through (0, 62.5, 0) along (0, -1, 0)
sketch "Sketch_10" plane through (-8.2, 0, 0) normal (1, 0, 0) x (0, 0, -1)
  arc A0 (-2, 58.5) -> (2, 58.5) centre (0, 53.9174) ccw
  line L0 (2, 58.5) -> (2, 62.5)
  line L1 (2, 62.5) -> (-2, 62.5)
  line L2 (-2, 62.5) -> (-2, 58.5)
extrude "Extrusion5" cut sketch "Sketch_10" against normal blind 7.5
sketch "Sketch_11" plane through (8.2, 0, 0) normal (1, 0, 0) x (0, 0, -1)
  arc A0 (-2, 58.5) -> (2, 58.5) centre (0, 53.9174) ccw
  line L0 (2, 58.5) -> (2, 62.5)
  line L1 (2, 62.5) -> (-2, 62.5)
  line L2 (-2, 62.5) -> (-2, 58.5)
extrude "Extrusion6" cut sketch "Sketch_11" along normal blind 7.5
ref_plane "JAW_1_XY" through (-8.2, 62.5, 0) normal (-1, 0, 0) x (0, 0, 1)
ref_plane "JAW_1_YZ" through (-8.2, 62.5, 0) normal (0, 0, 1) x (0, 1, 0)
ref_plane "JAW_1_ZX" through (-8.2, 62.5, 0) normal (0, 1, 0) x (-1, 0, 0)
ref_plane "JAW_2_XY" through (8.2, 62.5, 0) normal (1, 0, 0) x (0, 0, -1)
ref_plane "JAW_2_YZ" through (8.2, 62.5, 0) normal (0, 0, -1) x (0, 1, 0)
ref_plane "JAW_2_ZX" through (8.2, 62.5, 0) normal (0, 1, 0) x (1, 0, 0)
ref_plane "ZBH_1_XY" through (-12.5, 1.6, 0) normal (0, -1, 0) x (-1, 0, 0)
ref_plane "ZBH_1_YZ" through (-12.5, 1.6, 0) normal (-1, 0, 0) x (0, 0, -1)
ref_plane "ZBH_1_ZX" through (-12.5, 1.6, 0) normal (0, 0, -1) x (0, -1, 0)
ref_plane "ZBH_2_XY" through (12.5, 1.6, 0) normal (0, -1, 0) x (-1, 0, 0)
ref_plane "ZBH_2_YZ" through (12.5, 1.6, 0) normal (-1, 0, 0) x (0, 0, -1)
ref_plane "ZBH_2_ZX" through (12.5, 1.6, 0) normal (0, 0, -1) x (0, -1, 0)
ref_plane "Work Plane13" through (0, 0, -2.7354) normal (1, 0, 0) x (0, 0, -1)
ref_plane "Work Plane14" through (29.9541, 43.3071, 0) normal (0, 0, 1) x (1, 0, 0)
properties part number "539636 HGP-16-A-B-SSK---(0_1_ZYL)"
